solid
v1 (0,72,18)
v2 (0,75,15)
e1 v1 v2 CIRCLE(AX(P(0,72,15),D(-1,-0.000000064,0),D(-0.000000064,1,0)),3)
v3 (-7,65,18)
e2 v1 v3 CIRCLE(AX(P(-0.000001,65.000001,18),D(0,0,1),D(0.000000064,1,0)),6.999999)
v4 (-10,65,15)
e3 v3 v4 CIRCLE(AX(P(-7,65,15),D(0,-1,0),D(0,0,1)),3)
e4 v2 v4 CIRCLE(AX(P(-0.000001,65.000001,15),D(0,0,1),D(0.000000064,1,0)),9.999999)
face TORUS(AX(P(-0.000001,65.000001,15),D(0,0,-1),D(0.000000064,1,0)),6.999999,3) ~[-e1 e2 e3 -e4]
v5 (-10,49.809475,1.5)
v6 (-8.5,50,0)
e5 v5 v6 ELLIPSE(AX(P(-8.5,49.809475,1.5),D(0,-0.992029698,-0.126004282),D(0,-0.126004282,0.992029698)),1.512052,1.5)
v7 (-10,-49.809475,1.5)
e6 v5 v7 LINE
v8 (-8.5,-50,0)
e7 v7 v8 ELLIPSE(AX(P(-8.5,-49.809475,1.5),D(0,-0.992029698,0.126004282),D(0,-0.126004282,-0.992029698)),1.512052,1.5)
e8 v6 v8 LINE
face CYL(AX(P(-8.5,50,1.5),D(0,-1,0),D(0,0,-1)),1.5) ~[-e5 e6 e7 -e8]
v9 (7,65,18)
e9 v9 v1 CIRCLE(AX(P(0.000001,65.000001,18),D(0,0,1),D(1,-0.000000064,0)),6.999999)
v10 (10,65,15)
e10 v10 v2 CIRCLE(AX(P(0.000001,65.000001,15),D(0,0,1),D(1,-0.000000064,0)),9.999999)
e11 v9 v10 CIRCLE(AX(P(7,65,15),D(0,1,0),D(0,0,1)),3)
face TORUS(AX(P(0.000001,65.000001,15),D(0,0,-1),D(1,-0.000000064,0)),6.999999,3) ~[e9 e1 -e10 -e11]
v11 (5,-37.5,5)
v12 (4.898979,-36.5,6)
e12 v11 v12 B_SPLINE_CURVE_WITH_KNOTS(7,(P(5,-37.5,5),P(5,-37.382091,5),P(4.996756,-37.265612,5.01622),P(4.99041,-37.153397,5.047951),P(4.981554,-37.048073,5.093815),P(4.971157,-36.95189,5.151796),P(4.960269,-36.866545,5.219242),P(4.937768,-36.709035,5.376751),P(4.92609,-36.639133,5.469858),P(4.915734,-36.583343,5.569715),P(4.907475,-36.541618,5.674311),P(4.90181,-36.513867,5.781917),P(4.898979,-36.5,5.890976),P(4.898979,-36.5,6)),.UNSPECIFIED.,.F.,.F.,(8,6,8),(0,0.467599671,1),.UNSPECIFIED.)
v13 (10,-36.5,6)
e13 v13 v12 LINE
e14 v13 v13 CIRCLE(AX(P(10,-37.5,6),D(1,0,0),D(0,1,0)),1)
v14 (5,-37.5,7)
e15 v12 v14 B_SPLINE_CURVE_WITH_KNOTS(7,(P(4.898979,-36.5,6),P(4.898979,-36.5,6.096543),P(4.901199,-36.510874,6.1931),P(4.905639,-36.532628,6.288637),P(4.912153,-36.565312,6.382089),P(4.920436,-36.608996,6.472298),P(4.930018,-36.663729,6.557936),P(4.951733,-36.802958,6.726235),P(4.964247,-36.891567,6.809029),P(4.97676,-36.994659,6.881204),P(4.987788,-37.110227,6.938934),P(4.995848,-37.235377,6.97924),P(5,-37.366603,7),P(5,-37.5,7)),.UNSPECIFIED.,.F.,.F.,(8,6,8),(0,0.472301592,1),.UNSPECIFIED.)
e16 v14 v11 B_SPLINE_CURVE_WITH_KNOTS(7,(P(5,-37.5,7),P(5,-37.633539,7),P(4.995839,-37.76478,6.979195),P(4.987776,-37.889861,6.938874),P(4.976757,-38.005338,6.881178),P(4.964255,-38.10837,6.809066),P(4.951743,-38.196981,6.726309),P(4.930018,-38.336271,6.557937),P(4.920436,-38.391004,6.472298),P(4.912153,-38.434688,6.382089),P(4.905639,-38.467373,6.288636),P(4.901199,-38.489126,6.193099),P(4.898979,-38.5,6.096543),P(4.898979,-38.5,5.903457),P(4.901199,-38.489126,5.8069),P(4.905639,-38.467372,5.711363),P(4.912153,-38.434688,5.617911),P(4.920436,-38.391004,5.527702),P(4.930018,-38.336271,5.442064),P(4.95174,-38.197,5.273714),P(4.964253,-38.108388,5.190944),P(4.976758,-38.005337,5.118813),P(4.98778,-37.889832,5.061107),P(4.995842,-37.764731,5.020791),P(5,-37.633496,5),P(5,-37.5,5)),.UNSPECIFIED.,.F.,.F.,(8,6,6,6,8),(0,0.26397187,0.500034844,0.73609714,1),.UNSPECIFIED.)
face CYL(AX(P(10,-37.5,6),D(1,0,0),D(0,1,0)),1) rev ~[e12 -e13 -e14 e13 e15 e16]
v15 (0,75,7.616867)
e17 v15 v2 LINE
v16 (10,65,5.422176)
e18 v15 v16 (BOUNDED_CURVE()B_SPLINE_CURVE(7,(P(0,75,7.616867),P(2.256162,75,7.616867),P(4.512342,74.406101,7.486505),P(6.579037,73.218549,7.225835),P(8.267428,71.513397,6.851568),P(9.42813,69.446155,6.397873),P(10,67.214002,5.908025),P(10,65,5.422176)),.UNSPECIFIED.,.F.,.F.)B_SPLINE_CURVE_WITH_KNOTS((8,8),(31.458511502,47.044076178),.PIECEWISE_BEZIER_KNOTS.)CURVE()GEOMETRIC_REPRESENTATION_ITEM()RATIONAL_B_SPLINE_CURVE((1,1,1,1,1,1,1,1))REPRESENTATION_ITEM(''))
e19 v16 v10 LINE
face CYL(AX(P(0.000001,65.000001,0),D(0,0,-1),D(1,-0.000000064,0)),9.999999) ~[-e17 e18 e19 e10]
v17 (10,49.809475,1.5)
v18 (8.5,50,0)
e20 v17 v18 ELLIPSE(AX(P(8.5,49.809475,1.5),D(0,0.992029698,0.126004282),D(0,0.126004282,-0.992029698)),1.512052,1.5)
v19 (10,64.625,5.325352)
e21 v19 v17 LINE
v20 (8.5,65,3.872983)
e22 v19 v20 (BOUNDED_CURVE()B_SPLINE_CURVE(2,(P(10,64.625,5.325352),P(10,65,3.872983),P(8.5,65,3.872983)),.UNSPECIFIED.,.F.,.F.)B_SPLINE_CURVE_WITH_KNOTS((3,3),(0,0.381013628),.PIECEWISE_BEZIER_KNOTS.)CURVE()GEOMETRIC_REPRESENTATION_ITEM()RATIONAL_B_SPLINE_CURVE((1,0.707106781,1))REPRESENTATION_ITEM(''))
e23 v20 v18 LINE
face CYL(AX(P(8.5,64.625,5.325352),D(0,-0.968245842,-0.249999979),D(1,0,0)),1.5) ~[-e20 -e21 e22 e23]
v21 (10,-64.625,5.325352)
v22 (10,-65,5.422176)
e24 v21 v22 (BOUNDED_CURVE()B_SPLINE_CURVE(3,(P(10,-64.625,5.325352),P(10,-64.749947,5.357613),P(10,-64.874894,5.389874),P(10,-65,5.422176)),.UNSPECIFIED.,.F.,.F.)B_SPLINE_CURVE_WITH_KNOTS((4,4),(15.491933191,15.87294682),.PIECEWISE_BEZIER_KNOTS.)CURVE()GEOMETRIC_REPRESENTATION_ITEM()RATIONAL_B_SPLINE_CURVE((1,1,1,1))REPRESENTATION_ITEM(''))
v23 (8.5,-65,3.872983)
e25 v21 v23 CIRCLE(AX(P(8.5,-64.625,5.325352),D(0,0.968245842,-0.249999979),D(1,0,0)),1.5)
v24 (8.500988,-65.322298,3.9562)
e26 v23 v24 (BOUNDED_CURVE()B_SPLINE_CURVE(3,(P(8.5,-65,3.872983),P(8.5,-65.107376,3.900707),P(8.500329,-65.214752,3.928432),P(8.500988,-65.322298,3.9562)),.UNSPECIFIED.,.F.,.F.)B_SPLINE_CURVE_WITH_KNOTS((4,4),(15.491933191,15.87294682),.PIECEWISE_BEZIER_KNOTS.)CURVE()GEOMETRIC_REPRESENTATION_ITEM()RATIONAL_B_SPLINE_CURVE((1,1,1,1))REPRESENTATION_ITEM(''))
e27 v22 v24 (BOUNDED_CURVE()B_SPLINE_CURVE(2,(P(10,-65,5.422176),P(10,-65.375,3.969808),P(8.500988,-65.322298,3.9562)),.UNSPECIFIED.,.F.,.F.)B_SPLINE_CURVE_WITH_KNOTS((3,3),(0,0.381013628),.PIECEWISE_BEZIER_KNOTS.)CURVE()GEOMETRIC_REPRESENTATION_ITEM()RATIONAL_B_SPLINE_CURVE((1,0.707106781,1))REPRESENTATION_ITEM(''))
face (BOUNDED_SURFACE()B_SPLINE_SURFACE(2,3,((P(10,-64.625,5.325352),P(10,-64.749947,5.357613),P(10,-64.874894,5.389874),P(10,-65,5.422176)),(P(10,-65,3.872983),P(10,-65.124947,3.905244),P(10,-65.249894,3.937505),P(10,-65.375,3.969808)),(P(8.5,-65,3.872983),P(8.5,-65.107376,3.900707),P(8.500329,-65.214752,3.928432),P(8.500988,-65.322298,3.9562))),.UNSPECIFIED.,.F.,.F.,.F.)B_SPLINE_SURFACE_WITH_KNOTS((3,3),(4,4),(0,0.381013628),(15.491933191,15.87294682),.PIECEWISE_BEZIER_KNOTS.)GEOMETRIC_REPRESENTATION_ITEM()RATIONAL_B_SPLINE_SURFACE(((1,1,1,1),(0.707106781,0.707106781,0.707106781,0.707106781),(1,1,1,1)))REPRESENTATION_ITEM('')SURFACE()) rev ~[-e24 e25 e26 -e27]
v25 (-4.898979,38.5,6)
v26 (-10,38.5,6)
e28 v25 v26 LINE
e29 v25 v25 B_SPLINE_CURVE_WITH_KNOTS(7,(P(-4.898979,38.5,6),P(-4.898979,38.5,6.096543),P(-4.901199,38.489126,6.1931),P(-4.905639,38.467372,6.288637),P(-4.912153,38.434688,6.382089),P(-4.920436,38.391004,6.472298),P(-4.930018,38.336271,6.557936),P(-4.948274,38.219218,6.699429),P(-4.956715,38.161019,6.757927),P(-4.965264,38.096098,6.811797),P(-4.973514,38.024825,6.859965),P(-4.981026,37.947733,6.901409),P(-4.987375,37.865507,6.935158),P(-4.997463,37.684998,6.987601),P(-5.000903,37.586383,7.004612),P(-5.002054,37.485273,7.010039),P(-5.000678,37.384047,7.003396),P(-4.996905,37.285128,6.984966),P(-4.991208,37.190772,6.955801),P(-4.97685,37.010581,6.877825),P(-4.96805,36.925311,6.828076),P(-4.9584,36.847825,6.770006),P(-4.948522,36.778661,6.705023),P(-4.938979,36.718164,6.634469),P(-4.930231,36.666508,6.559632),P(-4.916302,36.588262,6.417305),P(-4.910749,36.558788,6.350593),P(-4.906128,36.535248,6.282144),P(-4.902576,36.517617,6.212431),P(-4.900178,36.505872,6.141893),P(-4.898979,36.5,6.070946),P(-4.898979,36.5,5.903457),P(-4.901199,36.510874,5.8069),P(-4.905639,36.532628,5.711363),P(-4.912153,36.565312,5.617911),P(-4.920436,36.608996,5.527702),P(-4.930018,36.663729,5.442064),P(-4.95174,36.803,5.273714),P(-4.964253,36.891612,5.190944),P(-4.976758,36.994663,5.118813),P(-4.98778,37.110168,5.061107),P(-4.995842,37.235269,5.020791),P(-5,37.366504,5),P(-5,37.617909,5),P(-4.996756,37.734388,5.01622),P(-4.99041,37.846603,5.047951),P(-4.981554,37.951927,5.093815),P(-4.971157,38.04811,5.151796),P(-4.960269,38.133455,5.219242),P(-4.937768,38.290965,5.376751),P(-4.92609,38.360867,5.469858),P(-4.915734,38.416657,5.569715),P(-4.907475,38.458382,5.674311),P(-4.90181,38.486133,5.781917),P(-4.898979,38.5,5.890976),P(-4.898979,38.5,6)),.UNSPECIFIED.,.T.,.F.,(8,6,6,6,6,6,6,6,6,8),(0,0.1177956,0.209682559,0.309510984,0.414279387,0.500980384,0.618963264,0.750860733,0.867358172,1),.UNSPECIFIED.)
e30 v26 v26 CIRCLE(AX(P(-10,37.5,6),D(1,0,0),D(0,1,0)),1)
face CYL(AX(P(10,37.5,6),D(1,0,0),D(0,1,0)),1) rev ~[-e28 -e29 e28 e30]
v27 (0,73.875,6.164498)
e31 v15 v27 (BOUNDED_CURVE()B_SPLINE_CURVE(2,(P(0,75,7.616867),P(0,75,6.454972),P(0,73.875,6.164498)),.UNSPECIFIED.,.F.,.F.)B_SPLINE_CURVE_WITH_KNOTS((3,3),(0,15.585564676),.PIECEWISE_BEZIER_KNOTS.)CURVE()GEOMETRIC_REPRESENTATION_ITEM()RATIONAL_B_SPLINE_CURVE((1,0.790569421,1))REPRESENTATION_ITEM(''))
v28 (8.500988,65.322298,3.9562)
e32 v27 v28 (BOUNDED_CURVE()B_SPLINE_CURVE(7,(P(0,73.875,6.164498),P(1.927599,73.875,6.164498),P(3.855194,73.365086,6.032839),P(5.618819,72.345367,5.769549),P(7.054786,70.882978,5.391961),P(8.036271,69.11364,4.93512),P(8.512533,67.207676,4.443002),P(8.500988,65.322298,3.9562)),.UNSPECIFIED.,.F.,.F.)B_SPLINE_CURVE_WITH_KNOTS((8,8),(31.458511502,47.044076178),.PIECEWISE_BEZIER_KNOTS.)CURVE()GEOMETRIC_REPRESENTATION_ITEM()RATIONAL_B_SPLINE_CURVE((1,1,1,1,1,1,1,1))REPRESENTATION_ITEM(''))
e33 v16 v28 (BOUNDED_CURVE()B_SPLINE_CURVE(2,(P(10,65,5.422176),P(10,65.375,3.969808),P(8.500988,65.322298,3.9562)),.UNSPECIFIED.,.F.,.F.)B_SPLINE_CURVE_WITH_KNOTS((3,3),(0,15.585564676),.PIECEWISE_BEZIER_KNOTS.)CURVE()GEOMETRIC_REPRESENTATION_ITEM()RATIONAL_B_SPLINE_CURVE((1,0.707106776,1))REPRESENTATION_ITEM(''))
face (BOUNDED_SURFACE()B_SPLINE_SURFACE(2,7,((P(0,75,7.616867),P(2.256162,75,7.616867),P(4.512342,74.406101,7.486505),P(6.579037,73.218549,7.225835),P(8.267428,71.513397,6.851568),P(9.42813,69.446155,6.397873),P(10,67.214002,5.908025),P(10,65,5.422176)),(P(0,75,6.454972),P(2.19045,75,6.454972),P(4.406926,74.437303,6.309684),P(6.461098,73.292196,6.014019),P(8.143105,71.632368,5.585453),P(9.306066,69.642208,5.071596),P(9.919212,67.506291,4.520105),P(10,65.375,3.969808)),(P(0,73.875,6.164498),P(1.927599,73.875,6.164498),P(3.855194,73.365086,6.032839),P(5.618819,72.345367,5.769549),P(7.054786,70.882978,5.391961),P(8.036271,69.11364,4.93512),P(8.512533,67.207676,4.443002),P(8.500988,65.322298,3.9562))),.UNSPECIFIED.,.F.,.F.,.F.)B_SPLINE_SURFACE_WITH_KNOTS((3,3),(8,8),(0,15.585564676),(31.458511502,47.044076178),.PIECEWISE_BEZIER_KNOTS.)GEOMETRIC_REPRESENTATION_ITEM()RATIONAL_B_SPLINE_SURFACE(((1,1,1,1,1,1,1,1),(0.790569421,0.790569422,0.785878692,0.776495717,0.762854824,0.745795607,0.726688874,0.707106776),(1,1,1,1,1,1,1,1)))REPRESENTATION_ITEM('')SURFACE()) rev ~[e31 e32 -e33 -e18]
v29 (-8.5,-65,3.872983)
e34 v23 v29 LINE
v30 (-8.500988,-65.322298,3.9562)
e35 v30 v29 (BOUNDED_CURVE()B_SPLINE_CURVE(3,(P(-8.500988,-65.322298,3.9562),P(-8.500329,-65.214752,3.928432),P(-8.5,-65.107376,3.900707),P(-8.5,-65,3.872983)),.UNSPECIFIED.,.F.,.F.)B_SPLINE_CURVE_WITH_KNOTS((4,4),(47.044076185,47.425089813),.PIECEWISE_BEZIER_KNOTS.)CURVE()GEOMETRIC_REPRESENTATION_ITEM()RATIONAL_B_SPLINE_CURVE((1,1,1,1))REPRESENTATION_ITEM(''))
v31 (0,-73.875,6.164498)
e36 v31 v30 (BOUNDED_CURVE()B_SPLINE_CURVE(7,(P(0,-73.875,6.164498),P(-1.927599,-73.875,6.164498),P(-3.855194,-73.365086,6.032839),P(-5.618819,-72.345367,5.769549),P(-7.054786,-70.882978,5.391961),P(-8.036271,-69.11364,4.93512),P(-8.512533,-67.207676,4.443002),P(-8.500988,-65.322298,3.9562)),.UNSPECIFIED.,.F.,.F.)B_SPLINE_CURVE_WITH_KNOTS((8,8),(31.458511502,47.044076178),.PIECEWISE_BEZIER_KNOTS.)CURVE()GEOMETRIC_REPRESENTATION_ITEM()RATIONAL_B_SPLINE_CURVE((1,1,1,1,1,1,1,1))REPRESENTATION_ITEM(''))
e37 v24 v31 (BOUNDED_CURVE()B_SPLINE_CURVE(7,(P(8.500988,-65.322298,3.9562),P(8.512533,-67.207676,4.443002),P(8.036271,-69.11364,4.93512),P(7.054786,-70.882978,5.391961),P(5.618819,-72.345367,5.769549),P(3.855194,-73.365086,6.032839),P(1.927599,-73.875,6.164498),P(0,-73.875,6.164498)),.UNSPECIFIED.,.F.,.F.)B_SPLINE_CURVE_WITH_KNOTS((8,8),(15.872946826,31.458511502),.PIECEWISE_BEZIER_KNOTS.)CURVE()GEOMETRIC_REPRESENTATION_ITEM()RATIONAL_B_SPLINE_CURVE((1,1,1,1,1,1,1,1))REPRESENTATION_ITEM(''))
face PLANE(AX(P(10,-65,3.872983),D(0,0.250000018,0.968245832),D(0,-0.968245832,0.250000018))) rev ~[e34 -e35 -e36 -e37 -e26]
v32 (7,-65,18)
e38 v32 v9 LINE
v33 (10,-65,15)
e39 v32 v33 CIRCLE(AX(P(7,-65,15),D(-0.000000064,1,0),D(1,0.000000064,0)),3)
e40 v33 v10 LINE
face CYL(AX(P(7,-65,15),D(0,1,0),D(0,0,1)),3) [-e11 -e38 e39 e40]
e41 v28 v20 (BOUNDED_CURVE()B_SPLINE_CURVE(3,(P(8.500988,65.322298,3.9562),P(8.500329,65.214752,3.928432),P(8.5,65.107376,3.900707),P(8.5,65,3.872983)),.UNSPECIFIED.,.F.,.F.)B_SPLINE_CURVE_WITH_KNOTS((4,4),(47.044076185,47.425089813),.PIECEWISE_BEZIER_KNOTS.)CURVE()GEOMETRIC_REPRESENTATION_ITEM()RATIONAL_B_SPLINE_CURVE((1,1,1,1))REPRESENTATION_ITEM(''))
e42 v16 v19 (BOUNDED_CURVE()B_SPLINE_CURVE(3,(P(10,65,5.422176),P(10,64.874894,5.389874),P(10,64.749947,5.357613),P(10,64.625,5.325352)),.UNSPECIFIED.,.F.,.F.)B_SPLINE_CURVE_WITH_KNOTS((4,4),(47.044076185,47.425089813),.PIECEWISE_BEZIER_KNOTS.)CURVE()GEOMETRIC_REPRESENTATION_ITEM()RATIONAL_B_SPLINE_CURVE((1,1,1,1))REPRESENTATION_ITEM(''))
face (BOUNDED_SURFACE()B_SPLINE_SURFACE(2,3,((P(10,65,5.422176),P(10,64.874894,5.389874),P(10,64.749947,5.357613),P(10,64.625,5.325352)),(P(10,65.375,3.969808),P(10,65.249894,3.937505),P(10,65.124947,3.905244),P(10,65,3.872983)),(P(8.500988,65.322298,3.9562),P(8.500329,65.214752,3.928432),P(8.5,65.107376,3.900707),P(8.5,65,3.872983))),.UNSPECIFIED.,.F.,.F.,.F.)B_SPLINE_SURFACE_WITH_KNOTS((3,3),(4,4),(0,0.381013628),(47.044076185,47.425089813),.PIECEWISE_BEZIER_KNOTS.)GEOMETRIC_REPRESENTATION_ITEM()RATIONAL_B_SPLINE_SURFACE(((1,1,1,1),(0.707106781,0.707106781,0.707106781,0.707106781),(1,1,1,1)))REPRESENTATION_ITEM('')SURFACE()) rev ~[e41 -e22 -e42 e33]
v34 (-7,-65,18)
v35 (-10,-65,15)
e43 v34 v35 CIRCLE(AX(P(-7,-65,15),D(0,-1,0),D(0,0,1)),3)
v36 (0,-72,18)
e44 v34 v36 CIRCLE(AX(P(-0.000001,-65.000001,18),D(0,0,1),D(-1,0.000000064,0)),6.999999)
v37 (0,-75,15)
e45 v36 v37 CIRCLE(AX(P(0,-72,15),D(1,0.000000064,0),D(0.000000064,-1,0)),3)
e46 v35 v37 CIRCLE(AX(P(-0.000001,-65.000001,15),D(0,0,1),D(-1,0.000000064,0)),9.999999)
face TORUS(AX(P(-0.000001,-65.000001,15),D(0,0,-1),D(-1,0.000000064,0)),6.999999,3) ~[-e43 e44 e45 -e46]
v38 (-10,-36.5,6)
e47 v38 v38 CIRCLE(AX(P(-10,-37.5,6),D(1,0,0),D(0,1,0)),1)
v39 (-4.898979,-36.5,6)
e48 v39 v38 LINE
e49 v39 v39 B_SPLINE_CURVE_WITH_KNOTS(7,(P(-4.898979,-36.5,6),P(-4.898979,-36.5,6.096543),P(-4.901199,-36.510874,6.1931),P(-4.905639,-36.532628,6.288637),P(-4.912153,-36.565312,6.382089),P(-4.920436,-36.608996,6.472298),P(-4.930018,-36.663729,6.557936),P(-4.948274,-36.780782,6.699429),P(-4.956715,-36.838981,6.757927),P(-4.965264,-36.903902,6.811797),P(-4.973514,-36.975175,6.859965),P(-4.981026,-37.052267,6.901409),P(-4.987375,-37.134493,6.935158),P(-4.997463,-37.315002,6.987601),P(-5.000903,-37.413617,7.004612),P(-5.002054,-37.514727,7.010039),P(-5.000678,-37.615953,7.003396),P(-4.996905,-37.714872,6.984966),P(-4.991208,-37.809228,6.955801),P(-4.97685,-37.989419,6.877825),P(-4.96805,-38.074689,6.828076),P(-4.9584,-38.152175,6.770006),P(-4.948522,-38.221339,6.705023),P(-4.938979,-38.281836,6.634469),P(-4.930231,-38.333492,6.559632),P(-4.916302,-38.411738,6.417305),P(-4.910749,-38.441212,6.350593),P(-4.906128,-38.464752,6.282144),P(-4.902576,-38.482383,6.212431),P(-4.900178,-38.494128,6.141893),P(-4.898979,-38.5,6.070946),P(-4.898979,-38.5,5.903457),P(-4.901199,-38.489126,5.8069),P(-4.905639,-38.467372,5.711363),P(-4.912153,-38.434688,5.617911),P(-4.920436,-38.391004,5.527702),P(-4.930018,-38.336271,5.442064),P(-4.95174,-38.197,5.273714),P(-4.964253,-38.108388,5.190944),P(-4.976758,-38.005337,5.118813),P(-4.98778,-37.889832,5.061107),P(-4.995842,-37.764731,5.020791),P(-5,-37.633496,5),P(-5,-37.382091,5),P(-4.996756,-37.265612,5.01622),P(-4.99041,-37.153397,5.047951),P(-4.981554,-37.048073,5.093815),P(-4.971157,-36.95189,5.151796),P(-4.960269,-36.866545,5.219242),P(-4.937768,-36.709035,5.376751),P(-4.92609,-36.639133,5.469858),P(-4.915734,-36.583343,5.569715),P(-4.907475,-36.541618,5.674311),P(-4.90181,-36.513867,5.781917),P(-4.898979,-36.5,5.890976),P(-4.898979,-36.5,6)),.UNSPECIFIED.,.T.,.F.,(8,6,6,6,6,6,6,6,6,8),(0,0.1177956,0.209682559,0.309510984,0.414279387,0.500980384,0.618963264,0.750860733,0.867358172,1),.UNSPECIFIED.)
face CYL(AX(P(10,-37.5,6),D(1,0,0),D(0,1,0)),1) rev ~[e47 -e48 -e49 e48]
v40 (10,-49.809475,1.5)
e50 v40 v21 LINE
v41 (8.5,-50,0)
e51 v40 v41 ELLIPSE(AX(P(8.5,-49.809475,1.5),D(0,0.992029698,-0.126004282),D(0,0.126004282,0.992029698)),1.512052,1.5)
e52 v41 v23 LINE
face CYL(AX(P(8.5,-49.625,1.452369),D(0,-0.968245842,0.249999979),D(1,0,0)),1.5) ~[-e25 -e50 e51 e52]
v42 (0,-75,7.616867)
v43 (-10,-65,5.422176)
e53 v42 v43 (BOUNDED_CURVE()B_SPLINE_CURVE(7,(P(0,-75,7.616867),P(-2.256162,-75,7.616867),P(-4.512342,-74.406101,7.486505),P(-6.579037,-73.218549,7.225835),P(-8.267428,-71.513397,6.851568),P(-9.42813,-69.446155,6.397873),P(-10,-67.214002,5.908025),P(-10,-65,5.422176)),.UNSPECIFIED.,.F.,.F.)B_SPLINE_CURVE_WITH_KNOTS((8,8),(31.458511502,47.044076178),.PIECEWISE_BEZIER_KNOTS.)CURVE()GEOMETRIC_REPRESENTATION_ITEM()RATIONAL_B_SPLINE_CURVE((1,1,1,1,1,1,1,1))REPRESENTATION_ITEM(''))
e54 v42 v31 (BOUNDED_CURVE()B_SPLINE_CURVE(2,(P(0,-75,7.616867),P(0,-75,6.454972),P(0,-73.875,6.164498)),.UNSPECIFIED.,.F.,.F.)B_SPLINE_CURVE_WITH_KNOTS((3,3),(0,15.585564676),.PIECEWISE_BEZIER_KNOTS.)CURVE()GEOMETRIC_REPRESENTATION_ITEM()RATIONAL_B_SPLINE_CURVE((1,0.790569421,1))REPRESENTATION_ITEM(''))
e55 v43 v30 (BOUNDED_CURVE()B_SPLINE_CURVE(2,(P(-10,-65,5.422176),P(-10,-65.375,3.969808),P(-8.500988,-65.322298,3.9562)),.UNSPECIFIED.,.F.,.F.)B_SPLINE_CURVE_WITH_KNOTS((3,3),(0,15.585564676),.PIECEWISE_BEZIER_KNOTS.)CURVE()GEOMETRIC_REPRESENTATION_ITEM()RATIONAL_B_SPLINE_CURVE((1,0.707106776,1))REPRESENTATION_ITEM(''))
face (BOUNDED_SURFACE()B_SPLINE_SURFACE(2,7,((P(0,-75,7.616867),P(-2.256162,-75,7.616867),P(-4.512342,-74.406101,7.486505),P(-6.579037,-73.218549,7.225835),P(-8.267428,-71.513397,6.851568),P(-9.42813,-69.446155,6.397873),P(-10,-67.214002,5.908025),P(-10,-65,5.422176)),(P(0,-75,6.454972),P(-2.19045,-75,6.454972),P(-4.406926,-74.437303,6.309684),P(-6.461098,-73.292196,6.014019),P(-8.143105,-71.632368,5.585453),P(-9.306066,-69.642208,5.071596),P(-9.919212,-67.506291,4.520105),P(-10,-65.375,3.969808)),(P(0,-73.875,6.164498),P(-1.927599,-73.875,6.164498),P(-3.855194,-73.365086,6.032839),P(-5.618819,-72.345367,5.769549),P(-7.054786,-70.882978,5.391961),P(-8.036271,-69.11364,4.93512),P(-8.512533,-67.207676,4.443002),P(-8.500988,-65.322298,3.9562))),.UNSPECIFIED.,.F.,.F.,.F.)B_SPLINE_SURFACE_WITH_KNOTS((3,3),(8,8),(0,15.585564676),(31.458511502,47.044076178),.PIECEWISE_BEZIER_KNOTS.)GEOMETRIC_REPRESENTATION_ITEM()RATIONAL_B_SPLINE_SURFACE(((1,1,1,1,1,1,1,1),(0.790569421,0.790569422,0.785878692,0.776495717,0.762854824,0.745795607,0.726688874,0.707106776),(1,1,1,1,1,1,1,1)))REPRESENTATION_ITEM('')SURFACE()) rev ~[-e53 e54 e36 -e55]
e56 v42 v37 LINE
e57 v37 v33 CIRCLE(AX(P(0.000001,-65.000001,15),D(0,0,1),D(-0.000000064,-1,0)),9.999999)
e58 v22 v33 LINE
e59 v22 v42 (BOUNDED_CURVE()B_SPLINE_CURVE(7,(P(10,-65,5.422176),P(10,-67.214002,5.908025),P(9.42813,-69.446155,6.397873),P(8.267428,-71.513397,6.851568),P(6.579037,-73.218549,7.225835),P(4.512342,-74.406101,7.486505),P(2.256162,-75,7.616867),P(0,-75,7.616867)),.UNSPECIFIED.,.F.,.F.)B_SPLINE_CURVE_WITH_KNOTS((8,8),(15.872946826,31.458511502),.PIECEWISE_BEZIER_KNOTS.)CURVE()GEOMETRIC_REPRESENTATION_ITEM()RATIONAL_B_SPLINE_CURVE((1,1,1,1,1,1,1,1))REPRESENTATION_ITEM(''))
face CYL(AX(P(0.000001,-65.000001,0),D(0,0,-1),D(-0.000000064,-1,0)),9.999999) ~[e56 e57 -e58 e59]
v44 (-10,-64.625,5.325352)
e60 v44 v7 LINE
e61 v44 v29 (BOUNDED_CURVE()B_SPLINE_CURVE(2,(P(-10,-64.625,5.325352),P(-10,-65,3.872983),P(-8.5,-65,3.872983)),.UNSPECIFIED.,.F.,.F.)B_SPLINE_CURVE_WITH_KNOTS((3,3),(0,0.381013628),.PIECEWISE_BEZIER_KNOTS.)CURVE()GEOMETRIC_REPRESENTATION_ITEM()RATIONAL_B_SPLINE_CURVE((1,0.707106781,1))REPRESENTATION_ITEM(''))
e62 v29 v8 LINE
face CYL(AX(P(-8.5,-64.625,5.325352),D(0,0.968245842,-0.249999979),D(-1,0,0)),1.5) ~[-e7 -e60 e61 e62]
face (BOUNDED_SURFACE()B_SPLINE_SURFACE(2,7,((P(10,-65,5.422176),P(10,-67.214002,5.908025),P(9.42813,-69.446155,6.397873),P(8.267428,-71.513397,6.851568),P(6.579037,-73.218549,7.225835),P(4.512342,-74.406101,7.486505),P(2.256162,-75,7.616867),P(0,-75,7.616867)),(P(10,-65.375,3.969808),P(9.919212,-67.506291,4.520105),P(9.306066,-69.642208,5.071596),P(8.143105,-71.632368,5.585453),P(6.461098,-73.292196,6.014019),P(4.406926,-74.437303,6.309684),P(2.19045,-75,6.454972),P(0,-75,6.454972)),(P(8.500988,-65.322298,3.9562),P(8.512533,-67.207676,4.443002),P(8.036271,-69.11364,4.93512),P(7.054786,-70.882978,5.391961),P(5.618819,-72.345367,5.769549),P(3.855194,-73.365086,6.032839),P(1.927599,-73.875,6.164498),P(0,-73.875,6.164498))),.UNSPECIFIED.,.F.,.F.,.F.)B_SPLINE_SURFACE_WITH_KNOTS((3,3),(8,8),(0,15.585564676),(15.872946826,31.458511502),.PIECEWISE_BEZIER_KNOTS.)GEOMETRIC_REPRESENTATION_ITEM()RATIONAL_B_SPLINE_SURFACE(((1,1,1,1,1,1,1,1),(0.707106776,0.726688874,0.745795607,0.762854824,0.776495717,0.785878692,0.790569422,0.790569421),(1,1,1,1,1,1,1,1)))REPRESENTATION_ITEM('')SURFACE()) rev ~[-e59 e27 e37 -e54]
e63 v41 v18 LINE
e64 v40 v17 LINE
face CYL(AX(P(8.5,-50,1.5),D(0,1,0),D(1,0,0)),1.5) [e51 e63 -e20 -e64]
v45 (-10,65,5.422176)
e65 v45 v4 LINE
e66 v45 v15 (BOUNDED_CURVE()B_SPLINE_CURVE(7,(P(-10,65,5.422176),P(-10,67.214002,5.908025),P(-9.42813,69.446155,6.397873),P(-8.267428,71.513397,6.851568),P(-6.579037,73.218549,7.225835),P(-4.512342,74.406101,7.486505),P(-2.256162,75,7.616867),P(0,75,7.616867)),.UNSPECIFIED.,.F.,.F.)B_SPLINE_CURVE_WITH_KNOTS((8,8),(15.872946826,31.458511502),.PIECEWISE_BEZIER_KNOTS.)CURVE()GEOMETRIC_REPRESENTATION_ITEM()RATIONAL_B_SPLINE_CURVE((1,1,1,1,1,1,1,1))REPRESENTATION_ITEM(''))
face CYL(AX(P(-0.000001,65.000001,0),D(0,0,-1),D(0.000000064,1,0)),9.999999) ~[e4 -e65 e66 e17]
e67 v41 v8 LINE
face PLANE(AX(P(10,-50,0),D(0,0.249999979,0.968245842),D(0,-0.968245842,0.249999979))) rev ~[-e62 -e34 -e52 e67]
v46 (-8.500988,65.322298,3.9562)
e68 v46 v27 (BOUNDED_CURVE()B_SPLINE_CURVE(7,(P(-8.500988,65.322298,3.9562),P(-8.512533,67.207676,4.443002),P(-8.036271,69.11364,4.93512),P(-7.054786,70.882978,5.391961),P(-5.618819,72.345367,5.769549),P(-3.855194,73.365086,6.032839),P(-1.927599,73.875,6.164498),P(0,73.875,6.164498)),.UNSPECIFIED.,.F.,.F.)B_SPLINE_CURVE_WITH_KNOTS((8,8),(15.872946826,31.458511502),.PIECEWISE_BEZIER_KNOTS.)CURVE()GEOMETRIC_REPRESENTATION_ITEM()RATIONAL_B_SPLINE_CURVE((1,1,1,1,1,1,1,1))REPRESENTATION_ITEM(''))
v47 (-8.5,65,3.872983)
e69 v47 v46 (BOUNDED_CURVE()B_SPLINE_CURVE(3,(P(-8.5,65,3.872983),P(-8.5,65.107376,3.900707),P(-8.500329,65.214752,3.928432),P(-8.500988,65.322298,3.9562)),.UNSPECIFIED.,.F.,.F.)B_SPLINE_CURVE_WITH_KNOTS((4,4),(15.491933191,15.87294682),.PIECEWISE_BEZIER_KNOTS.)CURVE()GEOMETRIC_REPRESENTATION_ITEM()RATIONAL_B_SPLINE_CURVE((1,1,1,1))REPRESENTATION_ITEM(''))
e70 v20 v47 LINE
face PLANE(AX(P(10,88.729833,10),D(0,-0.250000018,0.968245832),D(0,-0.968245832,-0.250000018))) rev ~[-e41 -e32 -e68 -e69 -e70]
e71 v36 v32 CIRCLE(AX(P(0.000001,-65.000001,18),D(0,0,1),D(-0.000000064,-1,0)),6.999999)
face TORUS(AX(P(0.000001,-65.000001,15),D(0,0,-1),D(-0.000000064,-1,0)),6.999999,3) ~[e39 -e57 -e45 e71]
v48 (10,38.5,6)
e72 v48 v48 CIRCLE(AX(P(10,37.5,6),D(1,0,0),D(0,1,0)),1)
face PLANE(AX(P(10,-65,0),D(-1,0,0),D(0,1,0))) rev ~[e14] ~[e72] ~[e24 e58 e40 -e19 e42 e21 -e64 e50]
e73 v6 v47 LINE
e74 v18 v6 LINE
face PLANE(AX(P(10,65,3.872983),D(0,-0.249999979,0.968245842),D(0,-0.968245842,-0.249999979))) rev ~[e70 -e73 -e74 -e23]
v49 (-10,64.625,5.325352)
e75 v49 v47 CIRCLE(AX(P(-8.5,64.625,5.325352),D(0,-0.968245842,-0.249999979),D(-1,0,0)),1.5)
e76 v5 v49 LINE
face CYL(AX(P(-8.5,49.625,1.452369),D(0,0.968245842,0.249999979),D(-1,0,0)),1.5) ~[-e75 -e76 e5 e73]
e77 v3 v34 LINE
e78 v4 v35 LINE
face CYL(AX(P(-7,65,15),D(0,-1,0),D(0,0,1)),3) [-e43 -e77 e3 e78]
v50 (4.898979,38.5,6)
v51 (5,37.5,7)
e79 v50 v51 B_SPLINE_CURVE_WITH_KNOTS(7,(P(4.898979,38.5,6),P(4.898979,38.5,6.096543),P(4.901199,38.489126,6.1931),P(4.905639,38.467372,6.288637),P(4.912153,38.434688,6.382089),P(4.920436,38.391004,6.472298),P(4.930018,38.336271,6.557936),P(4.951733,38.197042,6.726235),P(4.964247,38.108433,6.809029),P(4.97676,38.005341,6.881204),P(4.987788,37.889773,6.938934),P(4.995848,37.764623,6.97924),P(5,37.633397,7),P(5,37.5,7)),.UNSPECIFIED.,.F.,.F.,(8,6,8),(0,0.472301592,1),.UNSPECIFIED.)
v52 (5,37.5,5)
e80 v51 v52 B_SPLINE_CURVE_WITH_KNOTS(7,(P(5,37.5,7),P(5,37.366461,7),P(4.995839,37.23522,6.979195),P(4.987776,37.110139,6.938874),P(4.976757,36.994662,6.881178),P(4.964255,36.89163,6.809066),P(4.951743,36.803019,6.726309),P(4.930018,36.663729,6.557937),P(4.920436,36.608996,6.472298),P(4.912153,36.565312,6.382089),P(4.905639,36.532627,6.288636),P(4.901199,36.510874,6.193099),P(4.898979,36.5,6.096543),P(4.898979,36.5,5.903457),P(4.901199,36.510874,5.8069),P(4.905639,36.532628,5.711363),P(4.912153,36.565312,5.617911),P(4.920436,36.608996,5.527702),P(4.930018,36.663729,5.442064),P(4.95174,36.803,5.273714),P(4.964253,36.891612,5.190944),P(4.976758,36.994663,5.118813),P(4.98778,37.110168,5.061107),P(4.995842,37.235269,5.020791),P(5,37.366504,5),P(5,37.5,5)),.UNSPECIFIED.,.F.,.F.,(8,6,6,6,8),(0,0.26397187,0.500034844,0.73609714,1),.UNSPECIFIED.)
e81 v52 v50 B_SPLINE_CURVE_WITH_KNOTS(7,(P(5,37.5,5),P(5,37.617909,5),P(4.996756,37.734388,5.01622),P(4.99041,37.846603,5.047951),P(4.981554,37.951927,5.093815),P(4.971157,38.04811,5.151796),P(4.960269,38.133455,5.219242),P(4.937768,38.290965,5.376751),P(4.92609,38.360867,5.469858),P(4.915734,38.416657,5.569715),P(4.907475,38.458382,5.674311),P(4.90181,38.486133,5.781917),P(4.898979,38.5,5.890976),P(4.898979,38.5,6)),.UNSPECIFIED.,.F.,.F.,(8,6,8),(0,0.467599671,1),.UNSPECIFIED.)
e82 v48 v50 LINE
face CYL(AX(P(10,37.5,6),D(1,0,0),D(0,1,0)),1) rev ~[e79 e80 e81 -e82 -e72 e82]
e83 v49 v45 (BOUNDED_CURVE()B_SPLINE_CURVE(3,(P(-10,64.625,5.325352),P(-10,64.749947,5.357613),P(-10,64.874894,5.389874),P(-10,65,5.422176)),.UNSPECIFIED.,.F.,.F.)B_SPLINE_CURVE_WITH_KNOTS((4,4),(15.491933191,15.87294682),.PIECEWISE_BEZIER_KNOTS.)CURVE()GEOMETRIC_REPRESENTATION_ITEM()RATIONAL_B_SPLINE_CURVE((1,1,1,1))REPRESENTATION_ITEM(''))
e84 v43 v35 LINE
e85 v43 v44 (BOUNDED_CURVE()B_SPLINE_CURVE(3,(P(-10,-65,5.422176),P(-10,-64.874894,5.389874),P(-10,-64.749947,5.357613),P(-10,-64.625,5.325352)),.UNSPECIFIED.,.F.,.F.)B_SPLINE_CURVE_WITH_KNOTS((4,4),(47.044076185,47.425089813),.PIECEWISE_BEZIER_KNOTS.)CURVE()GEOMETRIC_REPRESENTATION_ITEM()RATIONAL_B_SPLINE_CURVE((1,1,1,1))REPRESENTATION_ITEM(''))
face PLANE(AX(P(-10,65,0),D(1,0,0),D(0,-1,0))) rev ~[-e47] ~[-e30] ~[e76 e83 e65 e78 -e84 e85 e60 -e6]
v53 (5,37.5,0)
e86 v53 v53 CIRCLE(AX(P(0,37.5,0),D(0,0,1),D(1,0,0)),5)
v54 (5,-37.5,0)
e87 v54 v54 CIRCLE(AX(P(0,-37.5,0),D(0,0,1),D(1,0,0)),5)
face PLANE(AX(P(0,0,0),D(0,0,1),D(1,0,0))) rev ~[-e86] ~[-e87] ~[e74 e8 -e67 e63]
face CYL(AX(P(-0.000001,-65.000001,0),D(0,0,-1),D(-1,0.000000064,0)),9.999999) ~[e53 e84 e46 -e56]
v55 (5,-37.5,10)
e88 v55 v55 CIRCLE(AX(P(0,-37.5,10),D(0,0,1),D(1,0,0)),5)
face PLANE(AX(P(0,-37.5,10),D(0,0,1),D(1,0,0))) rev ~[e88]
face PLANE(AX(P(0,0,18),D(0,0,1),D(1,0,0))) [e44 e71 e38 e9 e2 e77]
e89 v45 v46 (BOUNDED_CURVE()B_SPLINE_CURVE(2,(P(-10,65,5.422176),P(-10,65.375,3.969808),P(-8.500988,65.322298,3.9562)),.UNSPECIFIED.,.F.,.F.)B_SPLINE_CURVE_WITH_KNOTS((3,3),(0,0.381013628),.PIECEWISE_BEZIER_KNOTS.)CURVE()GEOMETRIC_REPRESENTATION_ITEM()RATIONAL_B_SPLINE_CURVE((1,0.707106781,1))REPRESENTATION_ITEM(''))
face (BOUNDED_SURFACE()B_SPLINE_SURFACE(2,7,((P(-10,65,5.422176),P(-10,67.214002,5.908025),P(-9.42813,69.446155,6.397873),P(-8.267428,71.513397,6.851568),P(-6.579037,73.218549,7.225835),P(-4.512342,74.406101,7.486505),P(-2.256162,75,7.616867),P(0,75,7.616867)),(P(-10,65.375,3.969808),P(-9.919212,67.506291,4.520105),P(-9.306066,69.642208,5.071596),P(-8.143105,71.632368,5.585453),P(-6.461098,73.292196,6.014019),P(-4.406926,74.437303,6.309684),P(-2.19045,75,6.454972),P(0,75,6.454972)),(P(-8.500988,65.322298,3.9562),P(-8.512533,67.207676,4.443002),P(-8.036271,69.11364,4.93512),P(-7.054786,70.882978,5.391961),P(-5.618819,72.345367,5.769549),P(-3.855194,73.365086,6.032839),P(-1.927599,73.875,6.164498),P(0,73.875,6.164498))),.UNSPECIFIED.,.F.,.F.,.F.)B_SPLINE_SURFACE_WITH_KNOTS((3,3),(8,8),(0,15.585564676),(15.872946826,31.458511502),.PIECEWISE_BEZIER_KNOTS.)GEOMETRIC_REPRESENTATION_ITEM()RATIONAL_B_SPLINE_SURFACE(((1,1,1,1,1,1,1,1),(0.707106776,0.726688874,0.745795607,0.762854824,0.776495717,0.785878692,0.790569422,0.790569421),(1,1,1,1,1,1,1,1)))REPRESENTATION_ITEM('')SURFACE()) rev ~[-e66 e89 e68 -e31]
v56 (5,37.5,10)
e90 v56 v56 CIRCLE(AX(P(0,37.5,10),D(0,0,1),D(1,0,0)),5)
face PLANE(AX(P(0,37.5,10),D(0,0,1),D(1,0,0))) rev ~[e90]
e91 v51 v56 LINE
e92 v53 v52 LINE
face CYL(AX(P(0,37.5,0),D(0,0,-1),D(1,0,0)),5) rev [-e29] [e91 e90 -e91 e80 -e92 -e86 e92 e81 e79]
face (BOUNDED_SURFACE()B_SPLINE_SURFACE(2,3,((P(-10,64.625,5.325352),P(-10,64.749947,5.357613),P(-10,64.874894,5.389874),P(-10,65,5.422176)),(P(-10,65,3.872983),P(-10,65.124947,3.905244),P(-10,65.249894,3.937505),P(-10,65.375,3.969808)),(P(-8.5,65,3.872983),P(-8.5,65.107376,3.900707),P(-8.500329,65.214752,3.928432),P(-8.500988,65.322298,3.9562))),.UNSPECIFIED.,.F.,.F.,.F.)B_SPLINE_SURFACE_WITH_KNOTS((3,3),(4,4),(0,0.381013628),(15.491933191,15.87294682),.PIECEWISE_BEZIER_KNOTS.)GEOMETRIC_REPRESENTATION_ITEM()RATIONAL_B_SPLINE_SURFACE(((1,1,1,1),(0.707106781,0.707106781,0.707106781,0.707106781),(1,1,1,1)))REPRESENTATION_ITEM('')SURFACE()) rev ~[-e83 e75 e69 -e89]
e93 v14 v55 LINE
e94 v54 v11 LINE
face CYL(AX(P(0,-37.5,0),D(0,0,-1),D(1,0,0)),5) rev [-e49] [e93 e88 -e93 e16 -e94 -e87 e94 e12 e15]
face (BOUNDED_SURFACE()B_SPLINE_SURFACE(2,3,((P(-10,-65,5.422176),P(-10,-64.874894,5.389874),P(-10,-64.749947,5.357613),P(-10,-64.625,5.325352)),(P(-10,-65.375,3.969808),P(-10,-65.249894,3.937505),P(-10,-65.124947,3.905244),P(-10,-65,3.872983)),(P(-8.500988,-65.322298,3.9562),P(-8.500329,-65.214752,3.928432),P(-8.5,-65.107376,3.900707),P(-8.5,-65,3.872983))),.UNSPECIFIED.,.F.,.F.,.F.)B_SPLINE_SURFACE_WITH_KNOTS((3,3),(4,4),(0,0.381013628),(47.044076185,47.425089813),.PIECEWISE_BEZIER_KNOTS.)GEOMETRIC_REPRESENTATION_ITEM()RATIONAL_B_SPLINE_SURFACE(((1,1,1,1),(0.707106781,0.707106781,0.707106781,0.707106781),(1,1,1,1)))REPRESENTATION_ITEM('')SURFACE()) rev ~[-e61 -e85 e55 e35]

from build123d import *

# Parameters (mm, degrees)
F0_R     = 5
F1_DEPTH = 18
F2_DEPTH = 10
F4_DEPTH = 20.001
F5_R     = 1.5
F6_R     = 3
F7_R     = 1
F8_DEPTH = 20.001


with BuildPart() as f1:
    # F0 (on Top) → F1 (new body)
    with BuildSketch(Plane.XY):
        with BuildLine():
            ThreePointArc((0, -75), (7.071068, -72.071068), (10, -65))
            Line((10, -65), (10, 65))
            ThreePointArc((10, 65), (7.071068, 72.071068), (0, 75))
            ThreePointArc((0, 75), (-7.071068, 72.071068), (-10, 65))
            Line((-10, 65), (-10, -65))
            ThreePointArc((-10, -65), (-7.071068, -72.071068), (0, -75))
        make_face()
        with Locations((0, -37.5)):
            Circle(F0_R, mode=Mode.SUBTRACT)
        with Locations((0, 37.5)):
            Circle(F0_R, mode=Mode.SUBTRACT)
        with Locations((0, -37.5)):
            Circle(F0_R)
        with Locations((0, 37.5)):
            Circle(F0_R)
    extrude(amount=F1_DEPTH)

    # F0 (on Top) → F2 (cut)
    with BuildSketch(Plane.XY):
        with Locations((0, -37.5)):
            Circle(F0_R)
        with Locations((0, 37.5)):
            Circle(F0_R)
    extrude(amount=F2_DEPTH, mode=Mode.SUBTRACT)

    # F3 (on face) → F4 (cut, through all)
    with BuildSketch(Plane.YZ.offset(10)):
        Polygon((-65, 0), (-65, 3.872983), (-88.729833, 10), (-88.729833, 0), align=None)
        Polygon((-65, 0), (-50, 0), (-65, 3.872983), align=None)
        Polygon((65, 3.872983), (65, 0), (88.729833, 0), (88.729833, 10), align=None)
        Polygon((65, 3.872983), (50, 0), (65, 0), align=None)
    extrude(amount=-F4_DEPTH, mode=Mode.SUBTRACT)

    # F5
    f5_edges = [f1.edges().sort_by_distance(p)[0] for p in [
        (10, -57.5, 1.936492),
        (10, 57.5, 1.936492),
        (10, 0, 0),
        (-10, 0, 0),
    ]]
    fillet(f5_edges, radius=F5_R)

    # F6
    f6_edges = [f1.edges().sort_by_distance(p)[0] for p in [
        (-10, 0, 18),
    ]]
    fillet(f6_edges, radius=F6_R)

    # F7 (on face) → F8 (cut, through all)
    with BuildSketch(Plane.YZ.offset(10)):
        with Locations((-37.5, 6)):
            Circle(F7_R)
        with Locations((37.5, 6)):
            Circle(F7_R)
    extrude(amount=-F8_DEPTH, mode=Mode.SUBTRACT)


solid = f1.part
